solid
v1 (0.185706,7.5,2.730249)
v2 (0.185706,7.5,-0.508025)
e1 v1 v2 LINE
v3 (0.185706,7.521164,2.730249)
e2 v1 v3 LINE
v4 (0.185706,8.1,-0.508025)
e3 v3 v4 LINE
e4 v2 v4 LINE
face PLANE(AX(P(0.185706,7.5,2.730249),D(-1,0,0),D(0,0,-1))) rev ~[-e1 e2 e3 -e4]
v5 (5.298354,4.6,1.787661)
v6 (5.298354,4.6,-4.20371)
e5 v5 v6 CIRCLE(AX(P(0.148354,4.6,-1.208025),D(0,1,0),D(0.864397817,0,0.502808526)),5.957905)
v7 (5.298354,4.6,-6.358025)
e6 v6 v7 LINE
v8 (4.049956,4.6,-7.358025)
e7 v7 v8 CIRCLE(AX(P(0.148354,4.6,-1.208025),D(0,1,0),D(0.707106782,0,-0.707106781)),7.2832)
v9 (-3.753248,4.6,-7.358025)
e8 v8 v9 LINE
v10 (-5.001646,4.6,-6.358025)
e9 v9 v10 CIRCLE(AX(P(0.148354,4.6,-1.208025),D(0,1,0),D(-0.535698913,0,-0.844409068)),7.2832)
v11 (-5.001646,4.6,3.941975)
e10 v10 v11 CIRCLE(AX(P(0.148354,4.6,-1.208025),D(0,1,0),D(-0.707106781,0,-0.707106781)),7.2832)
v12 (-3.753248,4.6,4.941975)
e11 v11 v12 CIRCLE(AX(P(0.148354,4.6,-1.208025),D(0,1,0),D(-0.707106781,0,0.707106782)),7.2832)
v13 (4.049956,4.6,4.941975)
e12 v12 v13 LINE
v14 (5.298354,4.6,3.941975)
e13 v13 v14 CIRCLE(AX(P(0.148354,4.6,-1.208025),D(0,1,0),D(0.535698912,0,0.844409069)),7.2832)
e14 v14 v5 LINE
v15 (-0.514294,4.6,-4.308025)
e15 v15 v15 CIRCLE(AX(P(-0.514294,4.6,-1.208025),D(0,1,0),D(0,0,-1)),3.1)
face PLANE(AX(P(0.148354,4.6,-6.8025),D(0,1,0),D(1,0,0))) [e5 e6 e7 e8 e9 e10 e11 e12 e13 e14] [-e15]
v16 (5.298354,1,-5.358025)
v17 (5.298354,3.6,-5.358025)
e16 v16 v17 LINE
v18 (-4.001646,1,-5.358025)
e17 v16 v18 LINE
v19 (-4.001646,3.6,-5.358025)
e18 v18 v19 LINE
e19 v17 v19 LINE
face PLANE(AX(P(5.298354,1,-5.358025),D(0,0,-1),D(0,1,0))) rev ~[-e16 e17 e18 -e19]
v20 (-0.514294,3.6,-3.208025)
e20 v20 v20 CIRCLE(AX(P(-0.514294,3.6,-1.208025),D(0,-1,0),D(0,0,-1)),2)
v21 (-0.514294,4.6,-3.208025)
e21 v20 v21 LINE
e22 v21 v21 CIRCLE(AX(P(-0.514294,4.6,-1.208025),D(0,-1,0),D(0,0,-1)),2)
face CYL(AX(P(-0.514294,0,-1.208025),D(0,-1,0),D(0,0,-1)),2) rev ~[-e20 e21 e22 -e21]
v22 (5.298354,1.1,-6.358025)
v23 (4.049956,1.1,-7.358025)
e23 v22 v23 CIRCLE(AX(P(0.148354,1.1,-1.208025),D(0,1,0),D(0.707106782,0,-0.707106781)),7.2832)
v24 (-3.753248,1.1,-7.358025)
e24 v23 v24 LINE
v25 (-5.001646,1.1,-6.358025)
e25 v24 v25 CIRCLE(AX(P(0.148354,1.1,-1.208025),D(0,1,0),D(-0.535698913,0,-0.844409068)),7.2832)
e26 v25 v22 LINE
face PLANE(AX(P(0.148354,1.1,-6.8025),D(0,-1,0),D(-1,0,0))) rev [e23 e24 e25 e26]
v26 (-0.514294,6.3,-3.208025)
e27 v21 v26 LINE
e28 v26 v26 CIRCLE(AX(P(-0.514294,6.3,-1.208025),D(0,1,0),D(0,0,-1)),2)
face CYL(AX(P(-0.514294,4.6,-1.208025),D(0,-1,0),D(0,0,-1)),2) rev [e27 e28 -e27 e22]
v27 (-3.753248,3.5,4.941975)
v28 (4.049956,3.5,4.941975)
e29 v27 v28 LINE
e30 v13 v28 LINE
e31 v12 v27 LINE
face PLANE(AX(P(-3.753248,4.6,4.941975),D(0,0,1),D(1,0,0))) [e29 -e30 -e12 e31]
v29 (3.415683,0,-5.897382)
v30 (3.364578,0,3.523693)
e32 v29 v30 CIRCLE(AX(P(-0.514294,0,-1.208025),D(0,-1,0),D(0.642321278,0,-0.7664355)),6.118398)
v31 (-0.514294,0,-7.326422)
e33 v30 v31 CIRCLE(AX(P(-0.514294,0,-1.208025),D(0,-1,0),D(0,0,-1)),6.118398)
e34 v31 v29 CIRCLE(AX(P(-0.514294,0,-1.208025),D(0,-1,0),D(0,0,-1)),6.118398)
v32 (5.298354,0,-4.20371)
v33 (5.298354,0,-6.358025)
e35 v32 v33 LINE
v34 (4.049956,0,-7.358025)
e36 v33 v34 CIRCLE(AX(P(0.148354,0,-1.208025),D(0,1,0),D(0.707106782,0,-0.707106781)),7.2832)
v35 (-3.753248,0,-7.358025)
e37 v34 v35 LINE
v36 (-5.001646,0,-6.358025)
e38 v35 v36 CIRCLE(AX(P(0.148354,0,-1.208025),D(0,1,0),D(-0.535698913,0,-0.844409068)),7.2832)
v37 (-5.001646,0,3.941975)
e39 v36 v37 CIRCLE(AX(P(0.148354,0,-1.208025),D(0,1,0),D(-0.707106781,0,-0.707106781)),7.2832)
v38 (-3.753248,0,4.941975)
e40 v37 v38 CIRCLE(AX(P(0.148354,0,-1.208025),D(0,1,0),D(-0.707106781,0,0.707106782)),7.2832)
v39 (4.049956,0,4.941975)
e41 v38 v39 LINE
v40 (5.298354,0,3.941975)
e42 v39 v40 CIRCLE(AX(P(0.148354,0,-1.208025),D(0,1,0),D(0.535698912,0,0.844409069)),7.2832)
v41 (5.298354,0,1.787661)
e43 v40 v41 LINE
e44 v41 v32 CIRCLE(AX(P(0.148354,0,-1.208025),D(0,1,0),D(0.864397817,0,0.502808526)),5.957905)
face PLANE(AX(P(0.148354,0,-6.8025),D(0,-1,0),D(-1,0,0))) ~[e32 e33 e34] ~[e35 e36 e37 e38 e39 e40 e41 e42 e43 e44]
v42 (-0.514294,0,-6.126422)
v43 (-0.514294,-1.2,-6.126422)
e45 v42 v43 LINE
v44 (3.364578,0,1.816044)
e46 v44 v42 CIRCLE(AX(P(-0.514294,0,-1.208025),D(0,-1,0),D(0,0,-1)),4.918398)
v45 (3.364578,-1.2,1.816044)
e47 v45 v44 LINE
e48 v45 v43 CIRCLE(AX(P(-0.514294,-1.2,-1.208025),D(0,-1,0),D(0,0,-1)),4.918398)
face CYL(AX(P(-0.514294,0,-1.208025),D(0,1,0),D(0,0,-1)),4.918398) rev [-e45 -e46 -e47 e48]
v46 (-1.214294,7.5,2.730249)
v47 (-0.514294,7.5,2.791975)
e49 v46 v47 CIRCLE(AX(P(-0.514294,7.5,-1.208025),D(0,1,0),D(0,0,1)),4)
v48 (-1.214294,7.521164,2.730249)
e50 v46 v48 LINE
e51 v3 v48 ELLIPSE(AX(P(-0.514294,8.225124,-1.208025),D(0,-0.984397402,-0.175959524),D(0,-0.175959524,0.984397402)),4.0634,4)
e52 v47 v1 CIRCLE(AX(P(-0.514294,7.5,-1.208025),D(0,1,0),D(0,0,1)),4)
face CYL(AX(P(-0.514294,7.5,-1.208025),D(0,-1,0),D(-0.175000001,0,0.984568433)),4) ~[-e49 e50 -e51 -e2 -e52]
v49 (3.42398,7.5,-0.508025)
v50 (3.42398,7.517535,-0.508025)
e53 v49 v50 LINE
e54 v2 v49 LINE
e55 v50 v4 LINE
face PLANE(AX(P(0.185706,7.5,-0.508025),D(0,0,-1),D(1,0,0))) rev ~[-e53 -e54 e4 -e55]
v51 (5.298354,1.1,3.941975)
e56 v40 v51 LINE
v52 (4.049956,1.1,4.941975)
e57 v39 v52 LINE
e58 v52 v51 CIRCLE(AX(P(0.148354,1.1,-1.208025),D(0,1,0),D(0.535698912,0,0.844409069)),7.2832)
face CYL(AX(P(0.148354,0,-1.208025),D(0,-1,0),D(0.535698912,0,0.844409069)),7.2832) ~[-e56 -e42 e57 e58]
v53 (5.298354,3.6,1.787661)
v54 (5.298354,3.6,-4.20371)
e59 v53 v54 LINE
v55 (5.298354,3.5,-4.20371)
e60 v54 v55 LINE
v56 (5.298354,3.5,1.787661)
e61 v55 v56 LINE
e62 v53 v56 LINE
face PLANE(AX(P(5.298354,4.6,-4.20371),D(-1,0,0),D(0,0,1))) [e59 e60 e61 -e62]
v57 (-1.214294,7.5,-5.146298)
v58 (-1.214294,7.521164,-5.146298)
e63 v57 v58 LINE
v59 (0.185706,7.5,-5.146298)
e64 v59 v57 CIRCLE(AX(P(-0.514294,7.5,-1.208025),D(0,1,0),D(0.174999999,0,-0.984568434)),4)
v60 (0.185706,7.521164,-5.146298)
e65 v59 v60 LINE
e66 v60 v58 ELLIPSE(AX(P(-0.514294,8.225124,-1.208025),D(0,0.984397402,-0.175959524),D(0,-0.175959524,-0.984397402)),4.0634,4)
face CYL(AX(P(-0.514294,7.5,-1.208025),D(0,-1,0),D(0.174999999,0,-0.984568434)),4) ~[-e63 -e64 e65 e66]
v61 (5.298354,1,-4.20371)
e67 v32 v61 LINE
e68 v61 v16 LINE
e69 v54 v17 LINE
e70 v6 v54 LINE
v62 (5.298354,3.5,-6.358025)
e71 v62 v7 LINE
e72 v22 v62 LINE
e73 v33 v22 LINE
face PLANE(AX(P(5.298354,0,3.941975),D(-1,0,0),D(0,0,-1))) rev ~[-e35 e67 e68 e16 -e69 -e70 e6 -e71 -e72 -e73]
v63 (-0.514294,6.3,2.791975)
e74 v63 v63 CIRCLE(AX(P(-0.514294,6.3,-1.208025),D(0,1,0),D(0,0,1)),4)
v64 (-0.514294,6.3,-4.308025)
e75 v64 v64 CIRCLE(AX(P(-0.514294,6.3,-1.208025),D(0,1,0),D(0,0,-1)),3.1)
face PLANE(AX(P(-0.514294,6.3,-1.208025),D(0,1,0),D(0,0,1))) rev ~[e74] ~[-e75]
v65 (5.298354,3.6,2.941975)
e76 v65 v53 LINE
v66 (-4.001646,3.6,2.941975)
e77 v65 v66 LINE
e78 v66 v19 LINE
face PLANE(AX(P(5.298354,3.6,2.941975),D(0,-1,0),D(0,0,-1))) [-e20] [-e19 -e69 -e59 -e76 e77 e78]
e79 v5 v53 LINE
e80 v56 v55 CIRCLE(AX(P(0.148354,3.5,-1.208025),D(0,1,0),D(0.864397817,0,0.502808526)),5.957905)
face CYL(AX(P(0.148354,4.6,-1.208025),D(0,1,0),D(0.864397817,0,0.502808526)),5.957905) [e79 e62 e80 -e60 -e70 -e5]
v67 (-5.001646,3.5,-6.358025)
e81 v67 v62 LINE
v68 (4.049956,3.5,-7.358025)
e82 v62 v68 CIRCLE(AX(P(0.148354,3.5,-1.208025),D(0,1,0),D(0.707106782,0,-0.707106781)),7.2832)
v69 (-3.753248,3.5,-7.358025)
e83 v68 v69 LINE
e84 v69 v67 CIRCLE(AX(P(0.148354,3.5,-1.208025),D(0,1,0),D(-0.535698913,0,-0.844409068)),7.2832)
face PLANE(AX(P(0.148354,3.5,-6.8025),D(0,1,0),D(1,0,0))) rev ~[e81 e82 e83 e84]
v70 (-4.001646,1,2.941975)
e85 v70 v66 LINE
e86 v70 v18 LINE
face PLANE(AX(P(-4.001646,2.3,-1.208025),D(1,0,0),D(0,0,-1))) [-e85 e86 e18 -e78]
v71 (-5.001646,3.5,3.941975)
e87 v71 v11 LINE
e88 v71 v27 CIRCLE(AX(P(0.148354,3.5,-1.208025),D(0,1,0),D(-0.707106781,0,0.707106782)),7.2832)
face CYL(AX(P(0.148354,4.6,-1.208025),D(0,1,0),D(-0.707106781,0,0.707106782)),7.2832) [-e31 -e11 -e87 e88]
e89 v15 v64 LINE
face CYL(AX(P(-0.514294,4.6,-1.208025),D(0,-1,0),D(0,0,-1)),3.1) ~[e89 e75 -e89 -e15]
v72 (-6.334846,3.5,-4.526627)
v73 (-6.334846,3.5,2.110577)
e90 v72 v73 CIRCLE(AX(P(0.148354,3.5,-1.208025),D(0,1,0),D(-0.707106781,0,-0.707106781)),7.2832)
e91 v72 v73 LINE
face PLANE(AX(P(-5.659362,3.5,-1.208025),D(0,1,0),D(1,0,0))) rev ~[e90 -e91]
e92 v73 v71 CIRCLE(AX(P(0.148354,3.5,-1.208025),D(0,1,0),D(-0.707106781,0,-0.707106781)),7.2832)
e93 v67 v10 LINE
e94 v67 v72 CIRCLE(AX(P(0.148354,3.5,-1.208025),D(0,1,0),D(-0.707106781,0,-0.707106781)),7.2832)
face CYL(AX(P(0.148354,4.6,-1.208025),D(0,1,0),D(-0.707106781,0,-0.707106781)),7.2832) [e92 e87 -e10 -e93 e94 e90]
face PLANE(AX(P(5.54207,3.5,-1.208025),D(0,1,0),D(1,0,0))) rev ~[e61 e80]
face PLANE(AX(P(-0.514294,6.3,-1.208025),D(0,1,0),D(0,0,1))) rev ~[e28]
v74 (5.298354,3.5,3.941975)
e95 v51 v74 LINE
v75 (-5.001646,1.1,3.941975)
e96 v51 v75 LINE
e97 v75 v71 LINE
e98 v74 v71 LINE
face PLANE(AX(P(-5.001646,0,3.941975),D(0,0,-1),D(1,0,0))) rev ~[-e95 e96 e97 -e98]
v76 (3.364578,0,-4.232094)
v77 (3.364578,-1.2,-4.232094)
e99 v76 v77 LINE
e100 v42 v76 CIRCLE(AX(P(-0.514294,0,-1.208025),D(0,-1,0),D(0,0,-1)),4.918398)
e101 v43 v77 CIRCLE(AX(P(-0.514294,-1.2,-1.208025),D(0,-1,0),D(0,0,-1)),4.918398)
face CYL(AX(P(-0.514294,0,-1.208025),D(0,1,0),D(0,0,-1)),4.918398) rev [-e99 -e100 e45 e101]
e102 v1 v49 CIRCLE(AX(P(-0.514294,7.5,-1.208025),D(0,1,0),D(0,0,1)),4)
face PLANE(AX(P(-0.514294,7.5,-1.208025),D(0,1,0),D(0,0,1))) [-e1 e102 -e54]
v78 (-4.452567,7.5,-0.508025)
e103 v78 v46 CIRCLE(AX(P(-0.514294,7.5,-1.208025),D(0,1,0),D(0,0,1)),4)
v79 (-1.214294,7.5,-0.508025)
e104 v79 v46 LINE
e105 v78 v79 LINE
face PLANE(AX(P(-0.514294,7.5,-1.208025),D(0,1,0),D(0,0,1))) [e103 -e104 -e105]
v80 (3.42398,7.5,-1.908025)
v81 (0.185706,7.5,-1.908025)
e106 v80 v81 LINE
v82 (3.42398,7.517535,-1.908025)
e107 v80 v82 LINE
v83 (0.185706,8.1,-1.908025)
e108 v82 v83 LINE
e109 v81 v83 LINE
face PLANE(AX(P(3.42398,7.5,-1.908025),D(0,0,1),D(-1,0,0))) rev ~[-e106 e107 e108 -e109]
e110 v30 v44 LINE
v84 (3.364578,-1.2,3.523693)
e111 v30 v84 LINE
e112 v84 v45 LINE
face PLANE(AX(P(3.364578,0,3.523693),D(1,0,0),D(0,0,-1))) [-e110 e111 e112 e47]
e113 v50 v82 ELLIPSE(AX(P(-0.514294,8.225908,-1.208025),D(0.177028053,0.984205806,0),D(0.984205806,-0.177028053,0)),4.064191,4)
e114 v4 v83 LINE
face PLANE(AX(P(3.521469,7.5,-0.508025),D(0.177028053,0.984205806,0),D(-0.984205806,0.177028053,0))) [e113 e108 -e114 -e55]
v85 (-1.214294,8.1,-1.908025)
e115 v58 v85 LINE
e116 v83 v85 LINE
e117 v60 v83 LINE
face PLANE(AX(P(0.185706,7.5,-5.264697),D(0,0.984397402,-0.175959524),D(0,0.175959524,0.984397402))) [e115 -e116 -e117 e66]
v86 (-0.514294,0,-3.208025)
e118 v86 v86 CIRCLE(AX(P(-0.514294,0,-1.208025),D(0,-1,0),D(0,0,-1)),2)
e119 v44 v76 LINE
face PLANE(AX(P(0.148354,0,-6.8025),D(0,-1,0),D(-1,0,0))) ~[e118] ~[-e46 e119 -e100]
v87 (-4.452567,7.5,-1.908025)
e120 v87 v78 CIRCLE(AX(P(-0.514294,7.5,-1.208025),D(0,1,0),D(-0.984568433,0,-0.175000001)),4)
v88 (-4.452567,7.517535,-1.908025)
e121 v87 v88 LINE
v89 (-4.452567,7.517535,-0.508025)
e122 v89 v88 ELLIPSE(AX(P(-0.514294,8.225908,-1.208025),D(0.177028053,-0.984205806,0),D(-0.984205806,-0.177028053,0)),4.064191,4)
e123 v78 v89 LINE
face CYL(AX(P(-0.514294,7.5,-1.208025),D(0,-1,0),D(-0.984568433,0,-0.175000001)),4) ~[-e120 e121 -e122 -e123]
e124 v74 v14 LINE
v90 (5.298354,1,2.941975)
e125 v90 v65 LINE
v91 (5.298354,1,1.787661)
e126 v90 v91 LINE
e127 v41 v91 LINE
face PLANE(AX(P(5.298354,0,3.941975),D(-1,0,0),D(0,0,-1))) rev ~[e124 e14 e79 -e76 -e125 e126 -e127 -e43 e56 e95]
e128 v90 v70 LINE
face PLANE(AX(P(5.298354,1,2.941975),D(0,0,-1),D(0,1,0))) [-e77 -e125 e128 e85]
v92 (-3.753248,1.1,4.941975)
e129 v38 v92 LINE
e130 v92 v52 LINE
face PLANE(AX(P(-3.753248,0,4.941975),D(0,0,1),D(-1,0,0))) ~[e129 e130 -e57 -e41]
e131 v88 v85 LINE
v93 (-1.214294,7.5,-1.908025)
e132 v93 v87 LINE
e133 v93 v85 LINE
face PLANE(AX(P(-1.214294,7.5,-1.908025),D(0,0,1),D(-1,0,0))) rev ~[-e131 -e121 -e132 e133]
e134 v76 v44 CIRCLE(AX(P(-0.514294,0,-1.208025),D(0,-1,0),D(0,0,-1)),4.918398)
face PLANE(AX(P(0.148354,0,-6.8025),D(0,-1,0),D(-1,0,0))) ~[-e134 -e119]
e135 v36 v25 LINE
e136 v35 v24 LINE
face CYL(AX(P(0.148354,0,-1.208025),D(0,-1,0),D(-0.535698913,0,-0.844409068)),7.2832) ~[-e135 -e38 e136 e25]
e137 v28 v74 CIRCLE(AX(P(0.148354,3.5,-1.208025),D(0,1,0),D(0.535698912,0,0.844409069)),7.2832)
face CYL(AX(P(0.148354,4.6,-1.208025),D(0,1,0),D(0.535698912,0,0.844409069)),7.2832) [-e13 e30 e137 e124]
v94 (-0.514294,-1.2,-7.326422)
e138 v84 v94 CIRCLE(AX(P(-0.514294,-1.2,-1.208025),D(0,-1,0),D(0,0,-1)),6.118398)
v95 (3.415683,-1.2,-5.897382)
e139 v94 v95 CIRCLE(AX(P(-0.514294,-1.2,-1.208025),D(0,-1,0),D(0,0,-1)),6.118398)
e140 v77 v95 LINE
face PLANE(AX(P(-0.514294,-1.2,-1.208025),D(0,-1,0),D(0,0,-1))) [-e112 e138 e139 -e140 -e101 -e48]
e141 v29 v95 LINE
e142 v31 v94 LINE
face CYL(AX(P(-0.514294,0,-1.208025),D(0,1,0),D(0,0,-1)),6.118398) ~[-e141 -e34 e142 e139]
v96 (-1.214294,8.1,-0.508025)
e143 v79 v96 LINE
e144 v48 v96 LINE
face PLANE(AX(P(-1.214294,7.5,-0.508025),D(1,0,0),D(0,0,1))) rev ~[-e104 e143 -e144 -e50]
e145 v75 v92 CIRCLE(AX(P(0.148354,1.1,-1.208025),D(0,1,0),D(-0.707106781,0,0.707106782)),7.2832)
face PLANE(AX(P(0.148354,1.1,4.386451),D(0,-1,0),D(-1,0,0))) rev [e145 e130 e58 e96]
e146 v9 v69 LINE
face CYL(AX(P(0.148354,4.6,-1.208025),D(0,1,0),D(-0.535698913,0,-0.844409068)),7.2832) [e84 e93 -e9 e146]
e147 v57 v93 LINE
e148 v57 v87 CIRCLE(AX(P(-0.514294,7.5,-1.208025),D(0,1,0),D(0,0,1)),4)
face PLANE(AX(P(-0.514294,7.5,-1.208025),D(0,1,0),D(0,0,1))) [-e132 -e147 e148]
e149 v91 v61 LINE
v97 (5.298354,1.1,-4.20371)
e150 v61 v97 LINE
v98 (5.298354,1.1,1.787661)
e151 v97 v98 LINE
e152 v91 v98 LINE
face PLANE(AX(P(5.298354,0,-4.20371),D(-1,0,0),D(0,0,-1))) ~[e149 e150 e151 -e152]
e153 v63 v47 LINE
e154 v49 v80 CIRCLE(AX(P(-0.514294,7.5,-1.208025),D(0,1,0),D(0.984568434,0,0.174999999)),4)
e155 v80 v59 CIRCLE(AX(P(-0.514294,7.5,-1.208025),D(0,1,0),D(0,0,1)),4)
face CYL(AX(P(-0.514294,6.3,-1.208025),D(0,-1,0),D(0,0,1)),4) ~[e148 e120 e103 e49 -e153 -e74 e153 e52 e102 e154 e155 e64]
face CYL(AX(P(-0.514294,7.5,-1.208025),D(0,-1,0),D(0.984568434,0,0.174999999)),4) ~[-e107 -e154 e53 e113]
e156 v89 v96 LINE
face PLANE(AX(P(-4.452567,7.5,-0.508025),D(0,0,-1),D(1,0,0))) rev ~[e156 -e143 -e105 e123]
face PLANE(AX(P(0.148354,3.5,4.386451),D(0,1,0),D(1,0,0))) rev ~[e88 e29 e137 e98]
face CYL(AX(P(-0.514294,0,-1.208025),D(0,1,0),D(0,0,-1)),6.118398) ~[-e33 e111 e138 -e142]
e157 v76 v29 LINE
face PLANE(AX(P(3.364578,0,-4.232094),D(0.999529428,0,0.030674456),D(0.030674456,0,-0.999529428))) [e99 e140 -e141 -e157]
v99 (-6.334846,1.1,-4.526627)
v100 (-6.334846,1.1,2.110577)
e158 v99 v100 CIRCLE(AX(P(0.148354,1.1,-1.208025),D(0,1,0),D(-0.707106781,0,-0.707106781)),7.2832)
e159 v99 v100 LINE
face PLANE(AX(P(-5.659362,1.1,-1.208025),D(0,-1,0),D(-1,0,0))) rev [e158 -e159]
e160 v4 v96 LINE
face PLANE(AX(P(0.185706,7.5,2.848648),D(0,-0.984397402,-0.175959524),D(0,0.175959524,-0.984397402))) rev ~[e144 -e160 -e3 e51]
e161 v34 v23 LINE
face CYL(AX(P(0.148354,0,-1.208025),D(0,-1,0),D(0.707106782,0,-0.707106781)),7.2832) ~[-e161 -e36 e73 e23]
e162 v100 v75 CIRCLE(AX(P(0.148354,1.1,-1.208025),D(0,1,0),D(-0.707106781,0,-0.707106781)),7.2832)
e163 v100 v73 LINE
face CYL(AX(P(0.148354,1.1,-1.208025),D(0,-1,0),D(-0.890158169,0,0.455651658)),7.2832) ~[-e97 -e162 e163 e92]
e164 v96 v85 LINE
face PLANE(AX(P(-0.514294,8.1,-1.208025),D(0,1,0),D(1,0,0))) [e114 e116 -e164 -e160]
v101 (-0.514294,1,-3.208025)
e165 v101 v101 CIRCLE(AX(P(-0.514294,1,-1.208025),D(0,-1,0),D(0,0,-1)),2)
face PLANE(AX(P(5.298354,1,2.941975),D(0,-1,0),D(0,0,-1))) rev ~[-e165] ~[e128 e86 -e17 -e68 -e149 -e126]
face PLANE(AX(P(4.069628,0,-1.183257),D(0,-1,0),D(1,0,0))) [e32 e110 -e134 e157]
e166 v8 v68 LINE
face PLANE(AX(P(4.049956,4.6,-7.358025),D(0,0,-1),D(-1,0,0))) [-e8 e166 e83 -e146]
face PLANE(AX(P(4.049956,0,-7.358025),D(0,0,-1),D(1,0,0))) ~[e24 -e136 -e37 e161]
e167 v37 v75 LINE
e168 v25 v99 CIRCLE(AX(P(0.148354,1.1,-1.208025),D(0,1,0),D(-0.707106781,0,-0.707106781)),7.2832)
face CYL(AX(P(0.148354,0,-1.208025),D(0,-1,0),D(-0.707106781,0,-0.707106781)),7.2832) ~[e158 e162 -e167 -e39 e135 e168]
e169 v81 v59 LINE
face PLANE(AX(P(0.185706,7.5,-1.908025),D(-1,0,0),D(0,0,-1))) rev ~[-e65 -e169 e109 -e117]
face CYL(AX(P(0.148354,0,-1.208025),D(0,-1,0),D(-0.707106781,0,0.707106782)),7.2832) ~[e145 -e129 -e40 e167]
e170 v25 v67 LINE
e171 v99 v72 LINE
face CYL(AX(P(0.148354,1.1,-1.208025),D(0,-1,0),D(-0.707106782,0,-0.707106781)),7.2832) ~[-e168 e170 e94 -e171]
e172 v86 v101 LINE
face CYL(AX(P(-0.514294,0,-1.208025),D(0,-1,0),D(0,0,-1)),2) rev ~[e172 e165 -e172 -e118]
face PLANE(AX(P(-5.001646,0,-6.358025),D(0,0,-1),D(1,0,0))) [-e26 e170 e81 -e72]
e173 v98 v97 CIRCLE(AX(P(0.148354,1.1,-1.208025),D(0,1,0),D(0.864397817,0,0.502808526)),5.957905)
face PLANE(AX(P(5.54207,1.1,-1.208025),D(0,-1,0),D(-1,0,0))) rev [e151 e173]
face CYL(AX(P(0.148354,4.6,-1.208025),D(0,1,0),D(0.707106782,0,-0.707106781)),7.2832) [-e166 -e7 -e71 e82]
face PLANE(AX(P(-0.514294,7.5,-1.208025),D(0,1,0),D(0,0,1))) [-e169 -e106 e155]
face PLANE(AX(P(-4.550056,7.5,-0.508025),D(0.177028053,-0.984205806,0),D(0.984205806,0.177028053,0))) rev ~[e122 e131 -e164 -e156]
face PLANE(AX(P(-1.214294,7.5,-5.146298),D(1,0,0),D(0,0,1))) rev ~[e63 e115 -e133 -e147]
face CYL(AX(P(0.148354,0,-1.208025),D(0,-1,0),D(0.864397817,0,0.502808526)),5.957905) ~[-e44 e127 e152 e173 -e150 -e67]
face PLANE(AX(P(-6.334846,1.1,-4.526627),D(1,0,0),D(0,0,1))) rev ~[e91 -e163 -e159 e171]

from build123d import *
from build123d.topology import SkipClean

# Parameters (mm, degrees)
SKETCH5_W           = 10.3
SKETCH5_H           = 10.3
BOSS_EXTRUDE2_DEPTH = 4.6
SKETCH6_W           = 8.3
SKETCH6_H           = 2.6
CUT_EXTRUDE3_DEPTH  = 9.3
BOSS_EXTRUDE4_DEPTH = 1.1
BOSS_EXTRUDE5_REACH = 12.83
SKETCH10_R          = 2
CUT_EXTRUDE4_DEPTH  = 12.234169035
SKETCH11_R          = 3.1
SKETCH11_R_2        = 2
BOSS_EXTRUDE6_DEPTH = 1.7
SKETCH12_R          = 4
BOSS_EXTRUDE7_DEPTH = 1.2
BOSS_EXTRUDE8_DEPTH = 0.6
CUT_EXTRUDE7_DEPTH  = 14.165903481
CUT_EXTRUDE8_DEPTH  = 13.784307824
SKETCH16_R          = 6.11839758
SKETCH16_R_2        = 4.91839758
BOSS_EXTRUDE9_DEPTH = 1.2
CUT_EXTRUDE9_START  = -1.2
CUT_EXTRUDE9_DEPTH  = 1.2


with BuildPart() as part:
    # Sketch5 → Boss-Extrude2 (new body)
    with BuildSketch(Plane(origin=(0, 0, 0), x_dir=(1, 0, 0), z_dir=(0, 1, 0))):
        with Locations((0.148353909, 1.208024691)):
            Rectangle(SKETCH5_W, SKETCH5_H)
    extrude(amount=BOSS_EXTRUDE2_DEPTH)

    # Sketch6 → Cut-Extrude3 (cut)
    with BuildSketch(Plane(origin=(5.298353909, 0, 0), x_dir=(0, 0, -1), z_dir=(1, 0, 0))):
        with Locations((1.208024691, 2.3)):
            Rectangle(SKETCH6_W, SKETCH6_H)
    cut_extrude3 = extrude(amount=-CUT_EXTRUDE3_DEPTH, mode=Mode.SUBTRACT)

    # Sketch7 → Boss-Extrude4 (add)
    with BuildSketch(Plane(origin=(0, 4.6, 0), x_dir=(1, 0, 0), z_dir=(0, 1, 0))):
        with BuildLine():
            Line((4.049956144, 7.358024691), (-3.753248326, 7.358024691))
            ThreePointArc((-3.753248326, 7.358024691), (-4.404982862, 6.89240014), (-5.001646091, 6.358024691))
            Line((-5.001646091, 6.358024691), (5.298353909, 6.358024691))
            ThreePointArc((5.298353909, 6.358024691), (4.701690681, 6.89240014), (4.049956144, 7.358024691))
        make_face()
        with BuildLine():
            Line((-5.001646091, -3.941975309), (-5.001646091, 6.358024691))
            ThreePointArc((-5.001646091, 6.358024691), (-7.134845937, 1.208024691), (-5.001646091, -3.941975309))
        make_face()
        with BuildLine():
            Line((5.298353909, -3.941975309), (-5.001646091, -3.941975309))
            ThreePointArc((-5.001646091, -3.941975309), (-4.404982862, -4.476350758), (-3.753248326, -4.941975309))
            Line((-3.753248326, -4.941975309), (4.049956144, -4.941975309))
            ThreePointArc((4.049956144, -4.941975309), (4.701690681, -4.476350758), (5.298353909, -3.941975309))
        make_face()
        with BuildLine():
            ThreePointArc((5.298353909, -1.787660692), (6.106258819, 1.208024691), (5.298353909, 4.203710075))
            Line((5.298353909, 4.203710075), (5.298353909, -1.787660692))
        make_face()
    boss_extrude4 = extrude(amount=-BOSS_EXTRUDE4_DEPTH)

    # Mirror1: Cut-Extrude3, Boss-Extrude4 across plane
    add(cut_extrude3.mirror(Plane.ZX.offset(2.3)), mode=Mode.SUBTRACT)
    add(boss_extrude4.mirror(Plane.ZX.offset(2.3)))

    # Sketch8 → Boss-Extrude5 (add, up to next)
    with BuildSketch(Plane(origin=(0, 1.1, 0), x_dir=(1, 0, 0), z_dir=(0, 1, 0)), mode=Mode.PRIVATE) as boss_extrude5_sk1:
        with BuildLine():
            Line((-6.334845937, 4.52662677), (-6.334845937, -2.110577387))
            ThreePointArc((-6.334845937, -2.110577387), (-5.739883454, -3.078426142), (-5.001646091, -3.941975309))
            Line((-5.001646091, -3.941975309), (-5.001646091, 6.358024691))
            ThreePointArc((-5.001646091, 6.358024691), (-5.739883454, 5.494475525), (-6.334845937, 4.52662677))
        make_face()
    boss_extrude5_tool1 = extrude(boss_extrude5_sk1.sketch, amount=BOSS_EXTRUDE5_REACH, mode=Mode.PRIVATE) - part.part
    add(boss_extrude5_tool1.solids().sort_by_distance((-5.621972, 1.1, -1.208025))[0])

    # Sketch10 → Cut-Extrude4 (cut, through all)
    with SkipClean():  # the faces are left unmerged after this step: merging them gives an invalid solid
        with BuildSketch(Plane.XZ):
            with Locations(Location((-0.514293559, -1.208024691, 0), (0, 0, 270))):
                Circle(SKETCH10_R)
        extrude(amount=-CUT_EXTRUDE4_DEPTH, mode=Mode.SUBTRACT)

    # Sketch11 → Boss-Extrude6 (add)
    with SkipClean():  # the faces are left unmerged after this step: merging them gives an invalid solid
        with BuildSketch(Plane(origin=(0, 4.6, 0), x_dir=(1, 0, 0), z_dir=(0, 1, 0))):
            with Locations(Location((-0.514293559, 1.208024691, 0), (0, 0, 90))):
                Circle(SKETCH11_R)
            with Locations(Location((-0.514293559, 1.208024691, 0), (0, 0, 90))):
                Circle(SKETCH11_R_2, mode=Mode.SUBTRACT)
        extrude(amount=BOSS_EXTRUDE6_DEPTH)

    # Sketch12 → Boss-Extrude7 (add)
    with SkipClean():  # the faces are left unmerged after this step: merging them gives an invalid solid
        with BuildSketch(Plane(origin=(0, 6.3, 0), x_dir=(1, 0, 0), z_dir=(0, 1, 0))):
            with Locations(Location((-0.514293559, 1.208024691, 0), (0, 0, 270))):
                Circle(SKETCH12_R)
        extrude(amount=BOSS_EXTRUDE7_DEPTH)

    # Sketch13 → Boss-Extrude8 (add)
    with SkipClean():  # the faces are left unmerged after this step: merging them gives an invalid solid
        with BuildSketch(Plane(origin=(0, 7.5, 0), x_dir=(1, 0, 0), z_dir=(0, 1, 0))):
            with BuildLine():
                Line((-1.214293559, 5.146298425), (-1.214293559, 1.908024691))
                Line((-1.214293559, 1.908024691), (-4.452567292, 1.908024691))
                ThreePointArc((-4.452567292, 1.908024691), (-4.514293559, 1.208024691), (-4.452567292, 0.508024691))
                Line((-4.452567292, 0.508024691), (-1.214293559, 0.508024691))
                Line((-1.214293559, 0.508024691), (-1.214293559, -2.730249042))
                ThreePointArc((-1.214293559, -2.730249042), (-0.514293559, -2.791975309), (0.185706441, -2.730249042))
                Line((0.185706441, -2.730249042), (0.185706441, 0.508024691))
                Line((0.185706441, 0.508024691), (3.423980175, 0.508024691))
                ThreePointArc((3.423980175, 0.508024691), (3.485706441, 1.208024691), (3.423980175, 1.908024691))
                Line((3.423980175, 1.908024691), (0.185706441, 1.908024691))
                Line((0.185706441, 1.908024691), (0.185706441, 5.146298425))
                ThreePointArc((0.185706441, 5.146298425), (-0.514293559, 5.208024691), (-1.214293559, 5.146298425))
            make_face()
        extrude(amount=BOSS_EXTRUDE8_DEPTH)

    # Sketch14 → Cut-Extrude7 (cut, through all)
    with SkipClean():  # the faces are left unmerged after this step: merging them gives an invalid solid
        with BuildSketch(Plane(origin=(0.185706441, 0, 0), x_dir=(0, 0, -1), z_dir=(1, 0, 0))):
            Polygon((-2.8486475, 7.5), (0.508024691, 8.1), (-2.8486475, 8.1), align=None)
            Polygon((5.264696882, 7.5), (1.908024691, 8.1), (5.264696882, 8.1), align=None)
        extrude(amount=-CUT_EXTRUDE7_DEPTH, mode=Mode.SUBTRACT)

    # Sketch15 → Cut-Extrude8 (cut, through all)
    with SkipClean():  # the faces are left unmerged after this step: merging them gives an invalid solid
        with BuildSketch(Plane.XY.offset(-0.508024691)):
            Polygon((3.521468612, 8.1), (3.521468612, 7.5), (0.185706441, 8.1), align=None)
            Polygon((-4.550055729, 7.5), (-1.214293559, 8.1), (-4.550055729, 8.1), align=None)
        extrude(amount=-CUT_EXTRUDE8_DEPTH, mode=Mode.SUBTRACT)

    # Sketch16 → Boss-Extrude9 (add)
    with SkipClean():  # the faces are left unmerged after this step: merging them gives an invalid solid
        with BuildSketch(Plane.XZ):
            with Locations(Location((-0.514293559, -1.208024691, 0), (0, 0, 270))):
                Circle(SKETCH16_R)
            with Locations(Location((-0.514293559, -1.208024691, 0), (0, 0, 270))):
                Circle(SKETCH16_R_2, mode=Mode.SUBTRACT)
        extrude(amount=BOSS_EXTRUDE9_DEPTH)

    # Sketch17 → Cut-Extrude9 (cut)
    with SkipClean():  # the faces are left unmerged after this step: merging them gives an invalid solid
        with BuildSketch(Plane.XZ.offset(1.2).offset(CUT_EXTRUDE9_START)):
            with BuildLine():
                Line((3.364577542, 1.816044378), (3.364577542, -4.232093761))
                Line((3.364577542, -4.232093761), (3.415683395, -5.897381799))
                ThreePointArc((3.415683395, -5.897381799), (5.604014001, -1.174835129), (3.364577542, 3.523692537))
                Line((3.364577542, 3.523692537), (3.364577542, 1.816044378))
            make_face()
        extrude(amount=CUT_EXTRUDE9_DEPTH, mode=Mode.SUBTRACT)


solid = part.part
